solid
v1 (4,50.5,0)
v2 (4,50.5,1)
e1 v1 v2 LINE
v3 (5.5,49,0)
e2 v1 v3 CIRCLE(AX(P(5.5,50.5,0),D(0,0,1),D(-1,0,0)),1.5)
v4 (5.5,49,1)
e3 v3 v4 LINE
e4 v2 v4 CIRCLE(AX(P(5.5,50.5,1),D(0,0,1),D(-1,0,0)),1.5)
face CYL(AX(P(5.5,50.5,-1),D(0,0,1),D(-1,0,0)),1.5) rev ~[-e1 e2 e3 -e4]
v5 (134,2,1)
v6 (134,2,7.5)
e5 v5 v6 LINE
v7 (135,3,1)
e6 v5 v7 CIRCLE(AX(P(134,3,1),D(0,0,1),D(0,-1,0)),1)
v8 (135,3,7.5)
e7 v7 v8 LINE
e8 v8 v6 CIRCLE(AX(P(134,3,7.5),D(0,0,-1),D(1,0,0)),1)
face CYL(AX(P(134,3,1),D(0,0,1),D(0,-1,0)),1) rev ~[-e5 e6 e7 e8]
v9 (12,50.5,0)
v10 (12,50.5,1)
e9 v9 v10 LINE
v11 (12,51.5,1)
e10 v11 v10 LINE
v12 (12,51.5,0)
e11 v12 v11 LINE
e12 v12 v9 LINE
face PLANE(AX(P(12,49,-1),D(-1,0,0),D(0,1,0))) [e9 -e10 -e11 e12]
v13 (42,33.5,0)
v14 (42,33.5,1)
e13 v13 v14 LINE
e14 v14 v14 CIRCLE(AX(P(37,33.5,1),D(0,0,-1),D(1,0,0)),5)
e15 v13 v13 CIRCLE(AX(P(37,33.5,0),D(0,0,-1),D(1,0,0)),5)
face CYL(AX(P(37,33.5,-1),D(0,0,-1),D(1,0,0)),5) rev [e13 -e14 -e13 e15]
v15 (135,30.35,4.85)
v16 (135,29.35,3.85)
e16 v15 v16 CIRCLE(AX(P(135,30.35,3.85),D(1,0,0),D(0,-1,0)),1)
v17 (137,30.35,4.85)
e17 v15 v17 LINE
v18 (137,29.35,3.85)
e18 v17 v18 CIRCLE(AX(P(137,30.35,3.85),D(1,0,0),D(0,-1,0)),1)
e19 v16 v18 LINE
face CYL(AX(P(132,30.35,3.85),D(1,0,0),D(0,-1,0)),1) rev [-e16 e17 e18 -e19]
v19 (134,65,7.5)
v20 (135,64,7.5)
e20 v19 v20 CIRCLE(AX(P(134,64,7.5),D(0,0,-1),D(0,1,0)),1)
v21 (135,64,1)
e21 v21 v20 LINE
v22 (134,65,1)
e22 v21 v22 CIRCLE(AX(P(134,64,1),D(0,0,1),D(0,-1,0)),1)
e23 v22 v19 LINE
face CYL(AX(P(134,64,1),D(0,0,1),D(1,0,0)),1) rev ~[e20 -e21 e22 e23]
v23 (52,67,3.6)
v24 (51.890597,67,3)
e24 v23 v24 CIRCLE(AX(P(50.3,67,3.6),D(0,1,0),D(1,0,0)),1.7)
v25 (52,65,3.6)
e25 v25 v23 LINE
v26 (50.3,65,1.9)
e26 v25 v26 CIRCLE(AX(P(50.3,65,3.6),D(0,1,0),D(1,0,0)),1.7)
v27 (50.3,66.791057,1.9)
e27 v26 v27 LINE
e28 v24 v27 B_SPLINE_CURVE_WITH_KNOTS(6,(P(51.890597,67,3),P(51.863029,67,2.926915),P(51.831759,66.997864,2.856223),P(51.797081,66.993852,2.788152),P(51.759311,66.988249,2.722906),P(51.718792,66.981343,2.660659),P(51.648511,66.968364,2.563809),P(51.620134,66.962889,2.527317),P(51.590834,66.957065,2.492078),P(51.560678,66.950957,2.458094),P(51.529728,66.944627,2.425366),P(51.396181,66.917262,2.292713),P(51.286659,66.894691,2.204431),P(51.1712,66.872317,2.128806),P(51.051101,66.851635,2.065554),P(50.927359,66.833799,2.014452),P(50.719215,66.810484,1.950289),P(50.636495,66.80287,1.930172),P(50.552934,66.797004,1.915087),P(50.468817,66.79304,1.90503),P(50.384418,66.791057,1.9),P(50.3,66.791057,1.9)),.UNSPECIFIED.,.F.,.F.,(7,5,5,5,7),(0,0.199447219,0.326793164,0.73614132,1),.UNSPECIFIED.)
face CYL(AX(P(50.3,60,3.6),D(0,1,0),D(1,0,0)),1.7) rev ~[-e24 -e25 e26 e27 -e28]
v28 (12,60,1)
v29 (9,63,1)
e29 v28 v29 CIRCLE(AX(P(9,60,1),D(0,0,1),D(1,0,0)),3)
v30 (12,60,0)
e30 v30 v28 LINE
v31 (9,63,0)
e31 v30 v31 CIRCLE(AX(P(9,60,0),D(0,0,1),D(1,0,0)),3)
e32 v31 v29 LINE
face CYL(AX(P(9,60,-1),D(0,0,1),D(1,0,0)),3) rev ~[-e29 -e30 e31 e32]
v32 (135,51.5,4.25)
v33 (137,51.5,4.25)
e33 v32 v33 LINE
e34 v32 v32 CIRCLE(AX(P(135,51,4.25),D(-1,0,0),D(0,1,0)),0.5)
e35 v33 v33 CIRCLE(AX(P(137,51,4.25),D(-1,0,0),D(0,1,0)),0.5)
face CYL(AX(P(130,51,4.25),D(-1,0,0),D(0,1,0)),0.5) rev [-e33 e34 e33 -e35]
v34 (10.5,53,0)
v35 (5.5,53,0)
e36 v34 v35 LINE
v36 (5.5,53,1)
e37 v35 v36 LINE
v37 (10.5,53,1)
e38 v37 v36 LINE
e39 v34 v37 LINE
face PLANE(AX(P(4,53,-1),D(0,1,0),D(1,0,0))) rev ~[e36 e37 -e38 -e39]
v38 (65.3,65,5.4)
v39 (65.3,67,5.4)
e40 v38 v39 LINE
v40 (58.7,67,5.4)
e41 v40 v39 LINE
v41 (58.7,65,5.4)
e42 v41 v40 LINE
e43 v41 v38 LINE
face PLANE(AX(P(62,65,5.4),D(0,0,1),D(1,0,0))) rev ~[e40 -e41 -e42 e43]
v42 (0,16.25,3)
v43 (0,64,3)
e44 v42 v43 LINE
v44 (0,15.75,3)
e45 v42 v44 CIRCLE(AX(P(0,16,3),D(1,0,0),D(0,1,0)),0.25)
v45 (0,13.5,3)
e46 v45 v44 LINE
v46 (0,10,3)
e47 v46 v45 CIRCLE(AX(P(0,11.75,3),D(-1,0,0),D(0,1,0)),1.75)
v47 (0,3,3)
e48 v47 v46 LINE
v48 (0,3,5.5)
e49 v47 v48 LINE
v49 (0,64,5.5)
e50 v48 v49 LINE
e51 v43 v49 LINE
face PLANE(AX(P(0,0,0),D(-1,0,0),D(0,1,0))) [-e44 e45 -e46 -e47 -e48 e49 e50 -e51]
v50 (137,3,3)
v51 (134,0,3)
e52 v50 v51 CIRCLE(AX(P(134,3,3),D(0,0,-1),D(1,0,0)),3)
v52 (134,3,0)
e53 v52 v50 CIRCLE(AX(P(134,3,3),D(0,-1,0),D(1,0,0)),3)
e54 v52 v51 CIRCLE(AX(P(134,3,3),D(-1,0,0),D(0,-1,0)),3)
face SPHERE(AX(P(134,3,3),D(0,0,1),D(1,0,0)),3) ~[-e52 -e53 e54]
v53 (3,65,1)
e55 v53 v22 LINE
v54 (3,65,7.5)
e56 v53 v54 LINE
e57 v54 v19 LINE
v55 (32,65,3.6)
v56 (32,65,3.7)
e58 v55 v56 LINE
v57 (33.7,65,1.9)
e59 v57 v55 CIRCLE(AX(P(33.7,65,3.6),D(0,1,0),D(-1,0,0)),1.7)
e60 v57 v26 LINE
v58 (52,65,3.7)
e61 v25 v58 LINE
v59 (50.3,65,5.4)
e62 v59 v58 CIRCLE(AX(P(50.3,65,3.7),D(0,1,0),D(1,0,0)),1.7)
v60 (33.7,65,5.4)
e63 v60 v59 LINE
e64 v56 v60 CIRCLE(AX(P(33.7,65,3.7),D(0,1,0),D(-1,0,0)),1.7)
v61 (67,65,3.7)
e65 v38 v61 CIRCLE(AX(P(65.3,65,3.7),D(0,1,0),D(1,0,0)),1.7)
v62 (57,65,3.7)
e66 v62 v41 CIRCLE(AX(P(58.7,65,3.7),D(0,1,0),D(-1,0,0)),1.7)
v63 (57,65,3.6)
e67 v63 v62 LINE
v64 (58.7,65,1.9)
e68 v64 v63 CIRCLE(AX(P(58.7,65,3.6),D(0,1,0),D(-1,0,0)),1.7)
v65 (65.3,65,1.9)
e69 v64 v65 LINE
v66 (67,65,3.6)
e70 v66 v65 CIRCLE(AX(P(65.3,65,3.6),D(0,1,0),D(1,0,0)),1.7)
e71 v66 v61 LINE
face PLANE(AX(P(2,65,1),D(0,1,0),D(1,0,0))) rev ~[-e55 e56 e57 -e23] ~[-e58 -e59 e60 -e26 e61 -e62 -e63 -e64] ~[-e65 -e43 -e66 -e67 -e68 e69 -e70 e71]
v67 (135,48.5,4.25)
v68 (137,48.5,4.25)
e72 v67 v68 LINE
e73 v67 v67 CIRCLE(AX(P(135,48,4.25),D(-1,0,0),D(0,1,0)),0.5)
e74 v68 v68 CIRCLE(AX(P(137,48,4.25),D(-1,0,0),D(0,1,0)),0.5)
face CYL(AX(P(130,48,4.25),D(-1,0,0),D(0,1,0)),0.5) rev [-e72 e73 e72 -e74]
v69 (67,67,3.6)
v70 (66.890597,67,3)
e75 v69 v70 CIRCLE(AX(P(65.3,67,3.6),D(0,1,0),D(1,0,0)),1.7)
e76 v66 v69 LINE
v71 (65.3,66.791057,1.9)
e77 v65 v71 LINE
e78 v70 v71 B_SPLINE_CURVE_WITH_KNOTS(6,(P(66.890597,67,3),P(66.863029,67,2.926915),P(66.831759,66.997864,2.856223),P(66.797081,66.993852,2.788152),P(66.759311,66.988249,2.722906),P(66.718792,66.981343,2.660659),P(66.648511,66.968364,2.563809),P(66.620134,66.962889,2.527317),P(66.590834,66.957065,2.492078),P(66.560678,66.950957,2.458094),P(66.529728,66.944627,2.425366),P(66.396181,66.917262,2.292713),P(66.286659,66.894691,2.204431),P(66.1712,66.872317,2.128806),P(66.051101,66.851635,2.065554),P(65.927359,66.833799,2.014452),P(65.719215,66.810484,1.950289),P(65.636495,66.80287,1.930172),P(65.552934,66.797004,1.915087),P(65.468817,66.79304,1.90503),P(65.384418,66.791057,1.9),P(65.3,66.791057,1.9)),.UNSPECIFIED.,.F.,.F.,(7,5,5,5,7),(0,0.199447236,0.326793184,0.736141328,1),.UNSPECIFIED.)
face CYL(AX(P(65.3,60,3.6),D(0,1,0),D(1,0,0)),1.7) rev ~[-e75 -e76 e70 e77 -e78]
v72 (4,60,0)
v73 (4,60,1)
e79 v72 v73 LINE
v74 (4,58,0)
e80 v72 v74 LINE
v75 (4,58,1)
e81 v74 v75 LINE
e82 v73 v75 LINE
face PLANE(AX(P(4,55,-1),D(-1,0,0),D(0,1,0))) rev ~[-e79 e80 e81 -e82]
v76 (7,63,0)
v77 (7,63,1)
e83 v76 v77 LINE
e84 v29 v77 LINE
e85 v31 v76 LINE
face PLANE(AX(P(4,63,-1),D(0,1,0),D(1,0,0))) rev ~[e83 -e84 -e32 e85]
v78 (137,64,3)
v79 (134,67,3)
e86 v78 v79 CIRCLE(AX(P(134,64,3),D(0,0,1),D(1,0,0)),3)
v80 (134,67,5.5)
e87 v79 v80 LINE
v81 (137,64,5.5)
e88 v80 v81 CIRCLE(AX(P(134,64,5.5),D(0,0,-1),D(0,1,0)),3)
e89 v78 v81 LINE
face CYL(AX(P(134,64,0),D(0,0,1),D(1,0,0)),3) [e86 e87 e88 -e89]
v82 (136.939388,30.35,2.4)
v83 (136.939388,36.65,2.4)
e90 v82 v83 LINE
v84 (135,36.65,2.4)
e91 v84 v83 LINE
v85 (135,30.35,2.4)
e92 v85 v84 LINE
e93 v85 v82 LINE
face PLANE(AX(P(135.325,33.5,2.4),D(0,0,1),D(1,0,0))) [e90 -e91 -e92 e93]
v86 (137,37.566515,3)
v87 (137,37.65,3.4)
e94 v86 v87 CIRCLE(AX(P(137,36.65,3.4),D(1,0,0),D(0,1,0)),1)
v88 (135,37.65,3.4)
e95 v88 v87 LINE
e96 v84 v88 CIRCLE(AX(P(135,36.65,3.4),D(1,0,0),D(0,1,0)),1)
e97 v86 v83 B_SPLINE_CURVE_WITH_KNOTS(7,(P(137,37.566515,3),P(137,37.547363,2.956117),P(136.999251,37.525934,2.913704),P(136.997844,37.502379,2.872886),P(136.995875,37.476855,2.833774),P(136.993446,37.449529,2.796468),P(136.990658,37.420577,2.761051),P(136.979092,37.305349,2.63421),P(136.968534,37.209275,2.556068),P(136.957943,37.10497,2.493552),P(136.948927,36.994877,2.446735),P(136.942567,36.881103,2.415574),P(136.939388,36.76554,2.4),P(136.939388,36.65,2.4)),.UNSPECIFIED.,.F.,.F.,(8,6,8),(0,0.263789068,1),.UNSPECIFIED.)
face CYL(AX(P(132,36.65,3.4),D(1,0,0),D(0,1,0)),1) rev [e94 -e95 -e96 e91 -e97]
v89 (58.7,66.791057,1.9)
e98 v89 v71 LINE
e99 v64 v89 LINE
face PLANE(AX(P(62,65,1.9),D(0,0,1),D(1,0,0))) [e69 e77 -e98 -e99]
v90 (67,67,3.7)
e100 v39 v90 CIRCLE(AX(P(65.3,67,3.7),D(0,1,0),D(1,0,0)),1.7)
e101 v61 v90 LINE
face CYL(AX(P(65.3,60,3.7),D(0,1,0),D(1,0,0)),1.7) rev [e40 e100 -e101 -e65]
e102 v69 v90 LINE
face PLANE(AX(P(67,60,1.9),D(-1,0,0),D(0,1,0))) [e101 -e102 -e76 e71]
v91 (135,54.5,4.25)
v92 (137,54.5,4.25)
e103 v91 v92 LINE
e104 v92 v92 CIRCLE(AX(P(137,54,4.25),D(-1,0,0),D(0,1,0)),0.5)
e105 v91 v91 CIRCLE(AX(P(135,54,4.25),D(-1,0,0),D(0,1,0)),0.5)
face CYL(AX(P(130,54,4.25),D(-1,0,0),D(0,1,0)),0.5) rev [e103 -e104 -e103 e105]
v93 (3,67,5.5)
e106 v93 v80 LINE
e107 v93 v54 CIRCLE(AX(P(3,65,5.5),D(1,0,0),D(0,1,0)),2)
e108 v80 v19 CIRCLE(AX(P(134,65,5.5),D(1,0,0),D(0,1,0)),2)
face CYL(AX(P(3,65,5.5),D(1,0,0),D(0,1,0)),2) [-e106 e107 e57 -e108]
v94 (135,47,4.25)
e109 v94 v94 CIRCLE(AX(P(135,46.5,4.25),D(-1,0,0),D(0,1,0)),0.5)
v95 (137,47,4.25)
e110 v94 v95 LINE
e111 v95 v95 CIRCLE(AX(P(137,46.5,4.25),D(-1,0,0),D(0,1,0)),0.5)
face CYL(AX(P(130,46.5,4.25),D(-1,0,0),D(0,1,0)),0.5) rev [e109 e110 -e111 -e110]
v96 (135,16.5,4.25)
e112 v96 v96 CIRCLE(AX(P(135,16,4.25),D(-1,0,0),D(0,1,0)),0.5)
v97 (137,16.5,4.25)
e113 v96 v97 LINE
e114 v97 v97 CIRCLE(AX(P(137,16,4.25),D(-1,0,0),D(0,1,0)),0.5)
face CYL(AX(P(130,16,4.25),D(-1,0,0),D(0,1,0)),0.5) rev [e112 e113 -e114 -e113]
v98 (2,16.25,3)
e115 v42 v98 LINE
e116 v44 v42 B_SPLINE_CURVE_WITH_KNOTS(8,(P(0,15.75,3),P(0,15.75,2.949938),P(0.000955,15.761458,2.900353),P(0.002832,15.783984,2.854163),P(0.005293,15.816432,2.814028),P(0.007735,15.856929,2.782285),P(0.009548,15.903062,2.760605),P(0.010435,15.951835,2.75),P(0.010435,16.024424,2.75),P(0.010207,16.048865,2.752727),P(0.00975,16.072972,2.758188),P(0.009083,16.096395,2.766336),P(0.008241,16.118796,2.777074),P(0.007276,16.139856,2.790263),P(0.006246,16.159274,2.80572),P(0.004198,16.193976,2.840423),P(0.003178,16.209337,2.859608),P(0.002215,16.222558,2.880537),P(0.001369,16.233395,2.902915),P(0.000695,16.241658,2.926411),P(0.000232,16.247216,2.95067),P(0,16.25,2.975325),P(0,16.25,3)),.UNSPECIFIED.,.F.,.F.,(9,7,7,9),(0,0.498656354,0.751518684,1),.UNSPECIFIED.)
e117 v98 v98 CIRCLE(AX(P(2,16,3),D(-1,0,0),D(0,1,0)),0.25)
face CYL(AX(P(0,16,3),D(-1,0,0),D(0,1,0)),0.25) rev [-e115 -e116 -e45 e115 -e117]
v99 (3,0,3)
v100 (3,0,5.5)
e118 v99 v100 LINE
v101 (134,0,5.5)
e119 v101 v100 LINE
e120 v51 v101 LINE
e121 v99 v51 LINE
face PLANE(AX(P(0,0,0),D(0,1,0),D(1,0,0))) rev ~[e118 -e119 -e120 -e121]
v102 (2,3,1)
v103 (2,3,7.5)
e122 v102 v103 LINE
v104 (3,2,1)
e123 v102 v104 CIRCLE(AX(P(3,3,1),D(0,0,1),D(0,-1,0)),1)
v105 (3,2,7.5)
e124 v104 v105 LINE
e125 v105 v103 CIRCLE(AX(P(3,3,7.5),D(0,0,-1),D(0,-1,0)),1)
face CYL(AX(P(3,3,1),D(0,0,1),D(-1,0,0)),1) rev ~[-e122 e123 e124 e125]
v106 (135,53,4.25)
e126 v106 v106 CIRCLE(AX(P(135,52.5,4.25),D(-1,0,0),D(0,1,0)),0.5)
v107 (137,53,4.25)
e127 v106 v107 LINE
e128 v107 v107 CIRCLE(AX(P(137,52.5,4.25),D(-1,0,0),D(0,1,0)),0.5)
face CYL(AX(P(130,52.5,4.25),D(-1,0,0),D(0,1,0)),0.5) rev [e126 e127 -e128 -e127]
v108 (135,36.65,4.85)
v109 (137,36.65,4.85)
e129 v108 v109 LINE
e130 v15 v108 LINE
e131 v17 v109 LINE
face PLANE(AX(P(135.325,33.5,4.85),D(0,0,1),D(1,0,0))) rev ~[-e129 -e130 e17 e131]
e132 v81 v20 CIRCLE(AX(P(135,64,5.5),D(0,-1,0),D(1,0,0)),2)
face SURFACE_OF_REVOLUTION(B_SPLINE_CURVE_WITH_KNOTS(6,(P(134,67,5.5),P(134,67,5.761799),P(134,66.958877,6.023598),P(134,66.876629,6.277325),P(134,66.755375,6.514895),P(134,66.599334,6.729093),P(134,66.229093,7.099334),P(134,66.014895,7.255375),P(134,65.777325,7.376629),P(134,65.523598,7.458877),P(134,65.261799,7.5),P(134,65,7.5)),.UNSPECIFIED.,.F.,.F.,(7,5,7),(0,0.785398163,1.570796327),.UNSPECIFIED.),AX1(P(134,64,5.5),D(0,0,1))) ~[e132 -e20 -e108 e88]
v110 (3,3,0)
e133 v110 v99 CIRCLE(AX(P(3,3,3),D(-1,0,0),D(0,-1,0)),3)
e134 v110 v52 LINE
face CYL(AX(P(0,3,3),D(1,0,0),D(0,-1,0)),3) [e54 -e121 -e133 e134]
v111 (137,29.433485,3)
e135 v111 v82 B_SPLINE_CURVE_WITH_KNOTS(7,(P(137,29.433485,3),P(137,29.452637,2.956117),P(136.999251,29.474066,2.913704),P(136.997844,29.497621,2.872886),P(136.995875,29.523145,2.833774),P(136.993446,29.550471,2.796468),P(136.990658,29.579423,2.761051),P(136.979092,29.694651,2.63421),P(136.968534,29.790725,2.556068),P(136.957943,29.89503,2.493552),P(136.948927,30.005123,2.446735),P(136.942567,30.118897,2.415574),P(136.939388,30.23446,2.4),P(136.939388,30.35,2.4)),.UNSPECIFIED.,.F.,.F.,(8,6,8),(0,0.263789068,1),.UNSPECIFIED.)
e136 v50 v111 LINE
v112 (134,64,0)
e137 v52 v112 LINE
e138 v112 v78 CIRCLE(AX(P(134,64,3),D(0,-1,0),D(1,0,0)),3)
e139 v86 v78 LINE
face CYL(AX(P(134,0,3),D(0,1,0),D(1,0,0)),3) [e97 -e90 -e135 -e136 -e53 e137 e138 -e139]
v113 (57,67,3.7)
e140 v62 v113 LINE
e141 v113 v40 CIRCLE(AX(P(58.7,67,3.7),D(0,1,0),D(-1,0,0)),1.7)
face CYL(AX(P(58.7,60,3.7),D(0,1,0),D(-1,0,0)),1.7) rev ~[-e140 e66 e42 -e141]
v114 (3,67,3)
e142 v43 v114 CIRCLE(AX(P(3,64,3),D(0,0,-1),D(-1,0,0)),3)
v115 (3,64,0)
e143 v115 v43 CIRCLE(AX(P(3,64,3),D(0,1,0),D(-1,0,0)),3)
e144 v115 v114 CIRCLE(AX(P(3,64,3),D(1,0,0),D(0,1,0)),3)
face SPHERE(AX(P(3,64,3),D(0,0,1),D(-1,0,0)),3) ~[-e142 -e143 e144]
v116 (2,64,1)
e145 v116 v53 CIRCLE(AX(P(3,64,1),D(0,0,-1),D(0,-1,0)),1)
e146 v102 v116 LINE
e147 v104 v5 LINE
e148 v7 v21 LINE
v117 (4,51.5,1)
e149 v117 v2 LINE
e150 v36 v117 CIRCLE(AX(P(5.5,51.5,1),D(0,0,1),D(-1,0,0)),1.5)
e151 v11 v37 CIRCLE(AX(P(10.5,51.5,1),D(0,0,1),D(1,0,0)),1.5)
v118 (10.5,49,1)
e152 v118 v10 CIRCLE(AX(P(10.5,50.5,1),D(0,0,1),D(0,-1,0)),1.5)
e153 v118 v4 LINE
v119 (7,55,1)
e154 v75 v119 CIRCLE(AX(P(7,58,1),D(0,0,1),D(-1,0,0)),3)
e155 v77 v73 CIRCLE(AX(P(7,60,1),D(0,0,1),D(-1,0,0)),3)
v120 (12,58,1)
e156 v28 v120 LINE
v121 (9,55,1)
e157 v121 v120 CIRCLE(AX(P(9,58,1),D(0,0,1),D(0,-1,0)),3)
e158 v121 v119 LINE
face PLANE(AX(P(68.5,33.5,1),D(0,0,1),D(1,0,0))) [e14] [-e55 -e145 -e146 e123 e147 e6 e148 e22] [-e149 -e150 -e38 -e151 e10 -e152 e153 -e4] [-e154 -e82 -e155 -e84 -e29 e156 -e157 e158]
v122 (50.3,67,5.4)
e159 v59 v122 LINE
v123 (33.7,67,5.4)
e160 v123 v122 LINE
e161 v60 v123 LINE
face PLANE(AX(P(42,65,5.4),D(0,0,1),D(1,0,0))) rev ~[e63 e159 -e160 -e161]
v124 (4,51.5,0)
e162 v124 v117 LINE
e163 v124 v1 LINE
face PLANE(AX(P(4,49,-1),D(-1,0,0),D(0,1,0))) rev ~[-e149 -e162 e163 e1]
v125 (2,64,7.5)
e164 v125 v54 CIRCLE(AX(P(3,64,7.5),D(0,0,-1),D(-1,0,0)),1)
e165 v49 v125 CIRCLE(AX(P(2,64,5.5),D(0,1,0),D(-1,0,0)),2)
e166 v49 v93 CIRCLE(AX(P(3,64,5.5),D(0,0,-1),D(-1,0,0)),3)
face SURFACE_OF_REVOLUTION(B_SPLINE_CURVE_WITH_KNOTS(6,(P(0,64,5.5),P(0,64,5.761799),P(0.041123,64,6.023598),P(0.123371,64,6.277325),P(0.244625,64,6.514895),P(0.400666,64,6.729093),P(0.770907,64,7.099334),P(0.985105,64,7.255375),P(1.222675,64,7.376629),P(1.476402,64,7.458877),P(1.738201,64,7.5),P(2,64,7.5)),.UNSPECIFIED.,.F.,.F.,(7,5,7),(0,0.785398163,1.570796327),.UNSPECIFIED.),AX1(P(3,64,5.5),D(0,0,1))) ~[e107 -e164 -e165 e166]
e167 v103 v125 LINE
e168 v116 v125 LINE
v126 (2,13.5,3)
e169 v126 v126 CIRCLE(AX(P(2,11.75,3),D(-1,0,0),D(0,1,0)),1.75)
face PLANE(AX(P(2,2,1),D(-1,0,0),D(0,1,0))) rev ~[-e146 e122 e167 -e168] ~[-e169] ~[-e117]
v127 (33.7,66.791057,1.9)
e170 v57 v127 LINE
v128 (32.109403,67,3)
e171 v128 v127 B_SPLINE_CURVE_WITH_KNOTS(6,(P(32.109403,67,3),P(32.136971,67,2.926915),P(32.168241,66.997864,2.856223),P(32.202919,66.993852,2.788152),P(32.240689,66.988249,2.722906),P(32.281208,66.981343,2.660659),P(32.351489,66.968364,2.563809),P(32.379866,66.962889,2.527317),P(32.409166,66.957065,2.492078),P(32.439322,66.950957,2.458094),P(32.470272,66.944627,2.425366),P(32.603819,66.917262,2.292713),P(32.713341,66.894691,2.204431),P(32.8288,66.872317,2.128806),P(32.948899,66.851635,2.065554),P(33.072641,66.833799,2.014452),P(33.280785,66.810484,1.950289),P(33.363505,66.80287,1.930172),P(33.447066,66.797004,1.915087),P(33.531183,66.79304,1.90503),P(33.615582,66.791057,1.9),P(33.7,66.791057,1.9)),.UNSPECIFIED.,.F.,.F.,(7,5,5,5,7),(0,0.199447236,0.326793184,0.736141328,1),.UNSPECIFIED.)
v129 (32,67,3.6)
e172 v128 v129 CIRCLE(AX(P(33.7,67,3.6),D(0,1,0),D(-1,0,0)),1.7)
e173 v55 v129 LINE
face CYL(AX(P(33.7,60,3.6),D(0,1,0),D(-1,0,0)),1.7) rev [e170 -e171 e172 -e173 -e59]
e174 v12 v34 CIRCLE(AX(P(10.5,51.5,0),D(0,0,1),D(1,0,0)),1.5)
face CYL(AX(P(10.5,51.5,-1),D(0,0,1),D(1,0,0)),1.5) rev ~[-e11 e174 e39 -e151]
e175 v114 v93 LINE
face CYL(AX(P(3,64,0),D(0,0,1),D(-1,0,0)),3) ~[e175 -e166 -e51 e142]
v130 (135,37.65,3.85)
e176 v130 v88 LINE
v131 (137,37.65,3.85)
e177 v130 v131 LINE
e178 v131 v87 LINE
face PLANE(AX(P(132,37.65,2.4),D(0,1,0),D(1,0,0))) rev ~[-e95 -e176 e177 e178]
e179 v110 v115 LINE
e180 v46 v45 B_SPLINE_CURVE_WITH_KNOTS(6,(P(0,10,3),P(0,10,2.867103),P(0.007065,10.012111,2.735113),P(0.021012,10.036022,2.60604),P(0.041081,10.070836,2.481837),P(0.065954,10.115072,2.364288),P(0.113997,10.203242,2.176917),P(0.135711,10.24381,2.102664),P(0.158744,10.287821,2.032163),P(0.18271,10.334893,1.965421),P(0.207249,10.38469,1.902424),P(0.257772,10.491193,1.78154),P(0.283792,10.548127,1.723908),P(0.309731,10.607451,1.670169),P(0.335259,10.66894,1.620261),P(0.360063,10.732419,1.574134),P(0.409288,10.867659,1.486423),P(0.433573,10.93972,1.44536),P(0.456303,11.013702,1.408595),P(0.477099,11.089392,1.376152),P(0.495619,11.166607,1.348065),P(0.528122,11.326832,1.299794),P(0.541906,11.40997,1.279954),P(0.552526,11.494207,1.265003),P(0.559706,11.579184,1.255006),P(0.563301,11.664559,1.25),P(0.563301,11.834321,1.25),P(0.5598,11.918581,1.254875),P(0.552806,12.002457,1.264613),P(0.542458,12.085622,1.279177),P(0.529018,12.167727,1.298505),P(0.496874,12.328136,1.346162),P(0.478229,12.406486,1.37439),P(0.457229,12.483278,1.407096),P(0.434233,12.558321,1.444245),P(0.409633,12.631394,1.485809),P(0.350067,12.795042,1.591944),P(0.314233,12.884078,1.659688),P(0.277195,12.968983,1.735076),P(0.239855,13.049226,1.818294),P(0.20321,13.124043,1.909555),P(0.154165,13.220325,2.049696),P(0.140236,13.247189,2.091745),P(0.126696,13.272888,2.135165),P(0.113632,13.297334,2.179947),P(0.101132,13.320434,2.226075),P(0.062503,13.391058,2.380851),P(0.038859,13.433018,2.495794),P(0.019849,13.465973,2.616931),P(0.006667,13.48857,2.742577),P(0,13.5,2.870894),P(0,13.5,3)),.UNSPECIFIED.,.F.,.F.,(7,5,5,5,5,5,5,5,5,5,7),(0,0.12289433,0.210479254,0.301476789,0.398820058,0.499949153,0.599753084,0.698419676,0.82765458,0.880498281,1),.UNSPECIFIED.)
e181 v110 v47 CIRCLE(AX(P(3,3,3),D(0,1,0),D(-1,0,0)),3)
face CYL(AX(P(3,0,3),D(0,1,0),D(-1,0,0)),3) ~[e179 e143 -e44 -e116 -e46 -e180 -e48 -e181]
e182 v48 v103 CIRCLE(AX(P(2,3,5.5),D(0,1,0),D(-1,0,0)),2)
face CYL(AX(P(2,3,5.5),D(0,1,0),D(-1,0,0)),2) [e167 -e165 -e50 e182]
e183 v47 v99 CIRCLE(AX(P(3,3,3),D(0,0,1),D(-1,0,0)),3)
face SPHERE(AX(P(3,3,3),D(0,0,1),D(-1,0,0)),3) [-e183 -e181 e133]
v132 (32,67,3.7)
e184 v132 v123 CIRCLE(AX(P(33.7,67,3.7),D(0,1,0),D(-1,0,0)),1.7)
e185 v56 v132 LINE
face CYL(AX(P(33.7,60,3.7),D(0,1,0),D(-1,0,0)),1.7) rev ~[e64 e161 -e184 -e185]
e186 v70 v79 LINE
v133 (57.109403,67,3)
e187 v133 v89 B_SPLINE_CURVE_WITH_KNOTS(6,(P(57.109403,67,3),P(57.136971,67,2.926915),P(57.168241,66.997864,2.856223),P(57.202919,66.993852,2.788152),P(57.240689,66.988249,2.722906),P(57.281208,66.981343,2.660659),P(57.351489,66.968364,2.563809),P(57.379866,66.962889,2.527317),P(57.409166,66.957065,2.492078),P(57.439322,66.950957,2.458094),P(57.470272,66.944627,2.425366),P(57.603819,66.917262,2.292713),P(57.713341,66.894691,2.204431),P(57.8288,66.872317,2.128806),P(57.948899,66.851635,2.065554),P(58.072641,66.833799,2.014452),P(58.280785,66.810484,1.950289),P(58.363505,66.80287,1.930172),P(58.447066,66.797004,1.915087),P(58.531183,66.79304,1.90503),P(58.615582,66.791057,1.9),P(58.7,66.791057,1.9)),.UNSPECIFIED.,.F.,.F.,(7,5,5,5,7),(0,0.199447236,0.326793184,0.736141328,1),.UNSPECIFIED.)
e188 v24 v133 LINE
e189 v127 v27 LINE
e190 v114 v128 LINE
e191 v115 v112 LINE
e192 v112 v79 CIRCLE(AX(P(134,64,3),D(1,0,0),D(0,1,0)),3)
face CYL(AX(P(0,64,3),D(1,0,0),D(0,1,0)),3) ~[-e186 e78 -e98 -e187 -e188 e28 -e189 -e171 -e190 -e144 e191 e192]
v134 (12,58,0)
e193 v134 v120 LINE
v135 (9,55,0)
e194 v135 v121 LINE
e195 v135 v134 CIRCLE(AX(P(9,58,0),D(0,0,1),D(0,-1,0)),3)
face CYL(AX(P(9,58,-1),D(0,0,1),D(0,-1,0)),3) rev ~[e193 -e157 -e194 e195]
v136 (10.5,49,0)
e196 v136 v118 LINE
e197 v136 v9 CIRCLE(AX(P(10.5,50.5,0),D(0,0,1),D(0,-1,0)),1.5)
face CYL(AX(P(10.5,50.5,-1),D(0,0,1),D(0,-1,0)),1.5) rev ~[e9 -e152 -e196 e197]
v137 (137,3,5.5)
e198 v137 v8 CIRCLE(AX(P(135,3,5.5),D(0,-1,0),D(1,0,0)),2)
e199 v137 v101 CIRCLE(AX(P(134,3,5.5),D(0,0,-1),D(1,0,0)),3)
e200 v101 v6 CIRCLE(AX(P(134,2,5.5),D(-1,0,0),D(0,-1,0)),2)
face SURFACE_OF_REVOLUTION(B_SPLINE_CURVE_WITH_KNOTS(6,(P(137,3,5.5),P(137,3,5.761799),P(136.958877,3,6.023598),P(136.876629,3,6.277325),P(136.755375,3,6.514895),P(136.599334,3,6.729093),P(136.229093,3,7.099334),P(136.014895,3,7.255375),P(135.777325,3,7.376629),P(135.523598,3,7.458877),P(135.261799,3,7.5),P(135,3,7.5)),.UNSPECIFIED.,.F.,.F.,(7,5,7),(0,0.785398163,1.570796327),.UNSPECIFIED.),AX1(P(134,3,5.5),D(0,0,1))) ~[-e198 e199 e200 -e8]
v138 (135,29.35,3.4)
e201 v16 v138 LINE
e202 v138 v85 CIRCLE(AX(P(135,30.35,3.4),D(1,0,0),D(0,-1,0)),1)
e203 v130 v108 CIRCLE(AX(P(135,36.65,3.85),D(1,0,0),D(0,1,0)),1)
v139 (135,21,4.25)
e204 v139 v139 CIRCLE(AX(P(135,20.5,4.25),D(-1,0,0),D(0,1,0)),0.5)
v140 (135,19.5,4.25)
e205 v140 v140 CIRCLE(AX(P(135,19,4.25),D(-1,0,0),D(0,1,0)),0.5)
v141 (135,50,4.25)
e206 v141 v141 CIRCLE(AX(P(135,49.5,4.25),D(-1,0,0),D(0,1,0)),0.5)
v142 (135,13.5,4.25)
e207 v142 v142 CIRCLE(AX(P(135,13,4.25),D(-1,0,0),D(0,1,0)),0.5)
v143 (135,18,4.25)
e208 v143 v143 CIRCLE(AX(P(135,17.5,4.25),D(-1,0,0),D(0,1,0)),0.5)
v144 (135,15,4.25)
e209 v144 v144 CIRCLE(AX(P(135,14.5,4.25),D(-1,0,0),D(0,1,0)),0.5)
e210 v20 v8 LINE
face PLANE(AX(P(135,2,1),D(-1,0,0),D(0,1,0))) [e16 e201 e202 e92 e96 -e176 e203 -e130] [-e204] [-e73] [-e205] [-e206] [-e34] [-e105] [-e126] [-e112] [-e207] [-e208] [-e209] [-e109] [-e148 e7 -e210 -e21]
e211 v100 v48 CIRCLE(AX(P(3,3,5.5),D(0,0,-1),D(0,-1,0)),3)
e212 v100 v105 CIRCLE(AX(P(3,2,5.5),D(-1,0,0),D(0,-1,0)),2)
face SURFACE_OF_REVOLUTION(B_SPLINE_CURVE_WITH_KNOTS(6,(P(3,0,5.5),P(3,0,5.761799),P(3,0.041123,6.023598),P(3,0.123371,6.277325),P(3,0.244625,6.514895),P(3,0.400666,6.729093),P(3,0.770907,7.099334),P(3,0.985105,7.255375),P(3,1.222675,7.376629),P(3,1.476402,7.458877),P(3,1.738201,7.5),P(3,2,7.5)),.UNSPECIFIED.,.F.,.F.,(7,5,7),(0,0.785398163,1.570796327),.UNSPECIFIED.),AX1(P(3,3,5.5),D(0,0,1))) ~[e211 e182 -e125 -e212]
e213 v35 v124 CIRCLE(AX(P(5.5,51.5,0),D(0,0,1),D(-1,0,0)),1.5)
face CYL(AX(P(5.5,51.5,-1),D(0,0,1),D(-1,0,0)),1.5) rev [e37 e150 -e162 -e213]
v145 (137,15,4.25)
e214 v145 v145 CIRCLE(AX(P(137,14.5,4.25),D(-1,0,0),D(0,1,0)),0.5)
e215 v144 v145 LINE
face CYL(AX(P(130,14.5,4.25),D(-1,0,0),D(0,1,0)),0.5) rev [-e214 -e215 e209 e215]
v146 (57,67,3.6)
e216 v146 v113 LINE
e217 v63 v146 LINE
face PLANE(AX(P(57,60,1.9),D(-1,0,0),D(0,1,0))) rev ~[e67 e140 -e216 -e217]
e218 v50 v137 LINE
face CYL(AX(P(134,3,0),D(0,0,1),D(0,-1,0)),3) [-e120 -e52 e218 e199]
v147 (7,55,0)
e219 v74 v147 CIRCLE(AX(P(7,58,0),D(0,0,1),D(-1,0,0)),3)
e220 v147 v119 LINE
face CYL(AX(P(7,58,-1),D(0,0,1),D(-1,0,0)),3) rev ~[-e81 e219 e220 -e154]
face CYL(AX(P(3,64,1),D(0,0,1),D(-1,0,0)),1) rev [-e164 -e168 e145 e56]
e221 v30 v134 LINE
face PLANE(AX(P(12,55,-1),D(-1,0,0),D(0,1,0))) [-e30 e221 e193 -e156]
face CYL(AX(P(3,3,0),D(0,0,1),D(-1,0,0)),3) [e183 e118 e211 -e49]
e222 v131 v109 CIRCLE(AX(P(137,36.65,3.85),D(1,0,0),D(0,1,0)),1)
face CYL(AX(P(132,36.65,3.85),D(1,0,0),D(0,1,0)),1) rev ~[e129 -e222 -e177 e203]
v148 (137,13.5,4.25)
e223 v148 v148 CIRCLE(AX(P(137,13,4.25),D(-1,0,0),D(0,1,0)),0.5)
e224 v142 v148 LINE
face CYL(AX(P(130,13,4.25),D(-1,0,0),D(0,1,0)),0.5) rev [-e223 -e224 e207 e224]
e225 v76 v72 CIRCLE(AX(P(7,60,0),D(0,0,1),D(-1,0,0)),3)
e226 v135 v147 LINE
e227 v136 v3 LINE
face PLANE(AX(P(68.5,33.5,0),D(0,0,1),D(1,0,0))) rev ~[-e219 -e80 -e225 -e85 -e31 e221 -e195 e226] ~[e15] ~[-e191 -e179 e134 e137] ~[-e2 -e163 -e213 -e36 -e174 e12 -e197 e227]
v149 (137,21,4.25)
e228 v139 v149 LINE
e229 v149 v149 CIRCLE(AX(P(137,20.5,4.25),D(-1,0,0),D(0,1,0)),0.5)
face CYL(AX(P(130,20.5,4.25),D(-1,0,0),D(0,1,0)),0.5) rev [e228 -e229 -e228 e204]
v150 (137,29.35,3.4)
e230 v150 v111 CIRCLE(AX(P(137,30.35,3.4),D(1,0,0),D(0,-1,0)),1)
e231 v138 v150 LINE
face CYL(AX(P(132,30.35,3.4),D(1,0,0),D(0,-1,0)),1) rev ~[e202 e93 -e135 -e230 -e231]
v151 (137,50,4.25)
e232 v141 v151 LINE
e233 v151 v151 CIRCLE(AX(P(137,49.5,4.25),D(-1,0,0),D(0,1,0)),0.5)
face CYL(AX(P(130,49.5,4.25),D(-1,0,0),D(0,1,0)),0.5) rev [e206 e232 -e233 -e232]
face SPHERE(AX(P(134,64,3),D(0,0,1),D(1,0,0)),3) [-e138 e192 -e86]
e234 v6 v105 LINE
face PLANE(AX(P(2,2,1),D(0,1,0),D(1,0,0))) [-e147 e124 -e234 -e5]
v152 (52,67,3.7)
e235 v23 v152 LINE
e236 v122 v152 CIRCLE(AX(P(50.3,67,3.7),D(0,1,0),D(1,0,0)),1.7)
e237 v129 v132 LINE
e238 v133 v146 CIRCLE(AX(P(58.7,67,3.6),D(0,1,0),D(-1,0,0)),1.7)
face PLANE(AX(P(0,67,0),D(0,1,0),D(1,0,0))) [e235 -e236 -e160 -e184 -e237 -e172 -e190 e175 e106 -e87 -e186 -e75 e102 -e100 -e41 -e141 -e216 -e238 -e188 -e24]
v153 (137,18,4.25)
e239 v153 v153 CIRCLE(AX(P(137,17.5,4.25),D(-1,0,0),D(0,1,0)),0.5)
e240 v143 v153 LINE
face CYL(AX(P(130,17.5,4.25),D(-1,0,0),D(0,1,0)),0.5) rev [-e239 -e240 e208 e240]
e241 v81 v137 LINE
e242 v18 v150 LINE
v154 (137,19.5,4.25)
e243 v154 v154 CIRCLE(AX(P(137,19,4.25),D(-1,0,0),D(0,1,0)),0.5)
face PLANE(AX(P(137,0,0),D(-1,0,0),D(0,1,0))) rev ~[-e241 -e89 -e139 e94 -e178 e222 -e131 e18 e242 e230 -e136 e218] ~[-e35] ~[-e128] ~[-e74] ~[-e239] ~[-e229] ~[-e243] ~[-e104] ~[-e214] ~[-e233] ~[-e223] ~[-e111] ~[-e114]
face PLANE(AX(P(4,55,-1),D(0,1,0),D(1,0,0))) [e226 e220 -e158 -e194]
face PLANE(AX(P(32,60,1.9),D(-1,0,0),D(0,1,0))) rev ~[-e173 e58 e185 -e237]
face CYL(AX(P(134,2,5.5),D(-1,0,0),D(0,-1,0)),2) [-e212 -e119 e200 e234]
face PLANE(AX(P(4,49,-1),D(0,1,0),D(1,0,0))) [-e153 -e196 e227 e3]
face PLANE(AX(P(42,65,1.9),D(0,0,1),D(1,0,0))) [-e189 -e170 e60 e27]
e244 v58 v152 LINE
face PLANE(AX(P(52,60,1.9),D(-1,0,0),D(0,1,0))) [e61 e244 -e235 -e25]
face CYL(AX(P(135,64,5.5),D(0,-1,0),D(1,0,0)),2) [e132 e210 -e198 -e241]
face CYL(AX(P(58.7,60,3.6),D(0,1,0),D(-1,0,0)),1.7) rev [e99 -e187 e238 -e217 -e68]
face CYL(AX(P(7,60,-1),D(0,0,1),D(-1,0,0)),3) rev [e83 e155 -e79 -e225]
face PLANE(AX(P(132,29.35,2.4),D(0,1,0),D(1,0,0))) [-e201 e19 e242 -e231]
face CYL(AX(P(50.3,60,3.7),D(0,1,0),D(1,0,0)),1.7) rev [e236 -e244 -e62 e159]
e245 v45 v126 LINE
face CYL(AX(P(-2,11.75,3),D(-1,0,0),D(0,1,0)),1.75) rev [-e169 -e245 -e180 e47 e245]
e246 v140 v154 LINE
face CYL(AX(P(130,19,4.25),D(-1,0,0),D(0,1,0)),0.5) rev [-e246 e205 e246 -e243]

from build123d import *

# Parameters (mm, degrees)
BOX028_W          = 10
BOX028_H          = 10
BOX028_DEPTH      = 3.5
FILLET018_R       = 1.7
BOX029_W          = 20
BOX029_H          = 10
BOX029_DEPTH      = 3.5
FILLET019_R       = 1.7
CYLINDER029_R     = 5
CYLINDER029_DEPTH = 10
CYLINDER027_R     = 0.25
CYLINDER027_DEPTH = 10
CYLINDER026_R     = 1.75
CYLINDER026_DEPTH = 10
BOX023_W          = 6.65
BOX023_H          = 8.3
BOX023_DEPTH      = 2.45
FILLET014_R       = 1
CYLINDER022_R     = 0.5
CYLINDER022_DEPTH = 10
CYLINDER023_R     = 0.5
CYLINDER023_DEPTH = 10
CYLINDER024_R     = 0.5
CYLINDER024_DEPTH = 10
CYLINDER021_R     = 0.5
CYLINDER021_DEPTH = 10
CYLINDER020_R     = 0.5
CYLINDER020_DEPTH = 10
CYLINDER019_R     = 0.5
CYLINDER019_DEPTH = 10
CYLINDER018_R     = 0.5
CYLINDER018_DEPTH = 10
CYLINDER017_R     = 0.5
CYLINDER017_DEPTH = 10
CYLINDER016_R     = 0.5
CYLINDER016_DEPTH = 10
CYLINDER015_R     = 0.5
CYLINDER015_DEPTH = 10
CYLINDER014_R     = 0.5
CYLINDER014_DEPTH = 10
CYLINDER013_R     = 0.5
CYLINDER013_DEPTH = 10
BOX021_W          = 8
BOX021_H          = 4
BOX021_DEPTH      = 10
FILLET012_R       = 1.5
BOX019_W          = 8
BOX019_H          = 8
BOX019_DEPTH      = 10
FILLET010_R       = 3
BOX001_W          = 133
BOX001_H          = 63
BOX001_DEPTH      = 10
FILLET002_R       = 1
BOX_W             = 137
BOX_H             = 67
BOX_DEPTH         = 7.5
FILLET_R          = 3
FILLET001_R       = 2


with BuildPart() as fillet018:
    # Box028 → Box028 (new body)
    with BuildSketch(Plane(origin=(57, 60, 2.5), x_dir=(1, 0, 0), z_dir=(0, 0, 1))):
        with Locations((5, 5)):
            Rectangle(BOX028_W, BOX028_H)
    extrude(amount=BOX028_DEPTH)

    # Fillet018
    fillet018_edges = [fillet018.edges().sort_by_distance(p)[0] for p in [
        (57, 65, 6),
        (57, 65, 2.5),
        (67, 65, 6),
        (67, 65, 2.5),
    ]]
    fillet(fillet018_edges, radius=FILLET018_R)


with BuildPart() as fillet018_1:
    # Fillet018 placement: moved
    add(fillet018.part.moved(Location((0, 0, -0.6))))


with BuildPart() as fillet019:
    # Box029 → Box029 (new body)
    with BuildSketch(Plane(origin=(57, 60, 2.5), x_dir=(1, 0, 0), z_dir=(0, 0, 1))):
        with Locations((10, 5)):
            Rectangle(BOX029_W, BOX029_H)
    extrude(amount=BOX029_DEPTH)

    # Fillet019
    fillet019_edges = [fillet019.edges().sort_by_distance(p)[0] for p in [
        (57, 65, 6),
        (57, 65, 2.5),
        (77, 65, 6),
        (77, 65, 2.5),
    ]]
    fillet(fillet019_edges, radius=FILLET019_R)


with BuildPart() as fillet019_1:
    # Fillet019 placement: moved
    add(fillet019.part.moved(Location((-25, 0, -0.6))))


with BuildPart() as cilindro027:
    # Cylinder029 → Cylinder029 (new body)
    with BuildSketch(Plane(origin=(37, 33.5, -1), x_dir=(1, 0, 0), z_dir=(0, 0, 1))):
        Circle(CYLINDER029_R)
    extrude(amount=CYLINDER029_DEPTH)


with BuildPart() as cilindro025:
    # Cylinder027 → Cylinder027 (new body)
    with BuildSketch(Plane(origin=(0, 16, 3), x_dir=(0, 1, 0), z_dir=(1, 0, 0))):
        Circle(CYLINDER027_R)
    extrude(amount=CYLINDER027_DEPTH)


with BuildPart() as phones:
    # Cylinder026 → Cylinder026 (new body)
    with BuildSketch(Plane(origin=(-2, 11.75, 3), x_dir=(0, 1, 0), z_dir=(1, 0, 0))):
        Circle(CYLINDER026_R)
    extrude(amount=CYLINDER026_DEPTH)


with BuildPart() as usb_c:
    # Box023 → Box023 (new body)
    with BuildSketch(Plane.XY):
        with Locations((3.325, 4.15)):
            Rectangle(BOX023_W, BOX023_H)
    extrude(amount=BOX023_DEPTH)

    # Fillet014
    fillet014_edges = [usb_c.edges().sort_by_distance(p)[0] for p in [
        (3.325, 0, 0),
        (3.325, 0, 2.45),
        (3.325, 8.3, 0),
        (3.325, 8.3, 2.45),
    ]]
    fillet(fillet014_edges, radius=FILLET014_R)


with BuildPart() as usb_c_1:
    # Fillet014 placement: moved
    add(usb_c.part.moved(Location((132, 29.35, 2.4))))


with BuildPart() as cilindro022:
    # Cylinder022 → Cylinder022 (new body)
    with BuildSketch(Plane(origin=(130, 52.5, 4.25), x_dir=(0, 1, 0), z_dir=(1, 0, 0))):
        Circle(CYLINDER022_R)
    extrude(amount=CYLINDER022_DEPTH)


with BuildPart() as cilindro023:
    # Cylinder023 → Cylinder023 (new body)
    with BuildSketch(Plane(origin=(130, 51, 4.25), x_dir=(0, 1, 0), z_dir=(1, 0, 0))):
        Circle(CYLINDER023_R)
    extrude(amount=CYLINDER023_DEPTH)


with BuildPart() as fusion008:
    # Cylinder024 → Cylinder024 (new body)
    with BuildSketch(Plane(origin=(130, 54, 4.25), x_dir=(0, 1, 0), z_dir=(1, 0, 0))):
        Circle(CYLINDER024_R)
    extrude(amount=CYLINDER024_DEPTH)

    # Fusion009: union Cilindro022, Cilindro023
    add(cilindro022.part)
    add(cilindro023.part)


with BuildPart() as fusion008_1:
    # Fusion009 placement: moved
    add(fusion008.part.moved(Location((0, -33.5, 0))))


with BuildPart() as cilindro021:
    # Cylinder021 → Cylinder021 (new body)
    with BuildSketch(Plane(origin=(130, 52.5, 4.25), x_dir=(0, 1, 0), z_dir=(1, 0, 0))):
        Circle(CYLINDER021_R)
    extrude(amount=CYLINDER021_DEPTH)


with BuildPart() as cilindro020:
    # Cylinder020 → Cylinder020 (new body)
    with BuildSketch(Plane(origin=(130, 51, 4.25), x_dir=(0, 1, 0), z_dir=(1, 0, 0))):
        Circle(CYLINDER020_R)
    extrude(amount=CYLINDER020_DEPTH)


with BuildPart() as agujero_micro:
    # Cylinder019 → Cylinder019 (new body)
    with BuildSketch(Plane(origin=(130, 54, 4.25), x_dir=(0, 1, 0), z_dir=(1, 0, 0))):
        Circle(CYLINDER019_R)
    extrude(amount=CYLINDER019_DEPTH)

    # Fusion008: union Cilindro021, Cilindro020
    add(cilindro021.part)
    add(cilindro020.part)


with BuildPart() as agujero_micro_1:
    # Fusion008 placement: moved
    add(agujero_micro.part.moved(Location((0, -38, 0))))

    # Fusion010: union Fusion008
    add(fusion008_1.part)


with BuildPart() as cilindro018:
    # Cylinder018 → Cylinder018 (new body)
    with BuildSketch(Plane(origin=(130, 52.5, 4.25), x_dir=(0, 1, 0), z_dir=(1, 0, 0))):
        Circle(CYLINDER018_R)
    extrude(amount=CYLINDER018_DEPTH)


with BuildPart() as cilindro017:
    # Cylinder017 → Cylinder017 (new body)
    with BuildSketch(Plane(origin=(130, 51, 4.25), x_dir=(0, 1, 0), z_dir=(1, 0, 0))):
        Circle(CYLINDER017_R)
    extrude(amount=CYLINDER017_DEPTH)


with BuildPart() as fusion006:
    # Cylinder016 → Cylinder016 (new body)
    with BuildSketch(Plane(origin=(130, 54, 4.25), x_dir=(0, 1, 0), z_dir=(1, 0, 0))):
        Circle(CYLINDER016_R)
    extrude(amount=CYLINDER016_DEPTH)

    # Fusion006: union Cilindro018, Cilindro017
    add(cilindro018.part)
    add(cilindro017.part)


with BuildPart() as fusion006_1:
    # Fusion006 placement: moved
    add(fusion006.part.moved(Location((0, -4.5, 0))))


with BuildPart() as cilindro015:
    # Cylinder015 → Cylinder015 (new body)
    with BuildSketch(Plane(origin=(130, 52.5, 4.25), x_dir=(0, 1, 0), z_dir=(1, 0, 0))):
        Circle(CYLINDER015_R)
    extrude(amount=CYLINDER015_DEPTH)


with BuildPart() as cilindro014:
    # Cylinder014 → Cylinder014 (new body)
    with BuildSketch(Plane(origin=(130, 51, 4.25), x_dir=(0, 1, 0), z_dir=(1, 0, 0))):
        Circle(CYLINDER014_R)
    extrude(amount=CYLINDER014_DEPTH)


with BuildPart() as agujero_altavoz:
    # Cylinder013 → Cylinder013 (new body)
    with BuildSketch(Plane(origin=(130, 54, 4.25), x_dir=(0, 1, 0), z_dir=(1, 0, 0))):
        Circle(CYLINDER013_R)
    extrude(amount=CYLINDER013_DEPTH)

    # Fusion005: union Cilindro015, Cilindro014
    add(cilindro015.part)
    add(cilindro014.part)

    # Fusion007: union Fusion006
    add(fusion006_1.part)


with BuildPart() as fillet012:
    # Box021 → Box021 (new body)
    with BuildSketch(Plane(origin=(4, 55, -1), x_dir=(1, 0, 0), z_dir=(0, 0, 1))):
        with Locations((4, 2)):
            Rectangle(BOX021_W, BOX021_H)
    extrude(amount=BOX021_DEPTH)

    # Fillet012
    fillet012_edges = [fillet012.edges().sort_by_distance(p)[0] for p in [
        (4, 55, 4),
        (4, 59, 4),
        (12, 55, 4),
        (12, 59, 4),
    ]]
    fillet(fillet012_edges, radius=FILLET012_R)


with BuildPart() as fillet012_1:
    # Fillet012 placement: moved
    add(fillet012.part.moved(Location((0, -6, 0))))


with BuildPart() as fillet010:
    # Box019 → Box019 (new body)
    with BuildSketch(Plane(origin=(4, 55, -1), x_dir=(1, 0, 0), z_dir=(0, 0, 1))):
        with Locations((4, 4)):
            Rectangle(BOX019_W, BOX019_H)
    extrude(amount=BOX019_DEPTH)

    # Fillet010
    fillet010_edges = [fillet010.edges().sort_by_distance(p)[0] for p in [
        (4, 55, 4),
        (4, 63, 4),
        (12, 55, 4),
        (12, 63, 4),
    ]]
    fillet(fillet010_edges, radius=FILLET010_R)


with BuildPart() as fillet002:
    # Box001 → Box001 (new body)
    with BuildSketch(Plane(origin=(2, 2, 5.5), x_dir=(1, 0, 0), z_dir=(0, 0, 1))):
        with Locations((66.5, 31.5)):
            Rectangle(BOX001_W, BOX001_H)
    extrude(amount=BOX001_DEPTH)

    # Fillet002
    fillet002_edges = [fillet002.edges().sort_by_distance(p)[0] for p in [
        (2, 2, 10.5),
        (2, 65, 10.5),
        (135, 2, 10.5),
        (135, 65, 10.5),
    ]]
    fillet(fillet002_edges, radius=FILLET002_R)


with BuildPart() as fillet002_1:
    # Fillet002 placement: moved
    add(fillet002.part.moved(Location((0, 0, -4.5))))


with BuildPart() as cut037:
    # Box → Box (new body)
    with BuildSketch(Plane.XY):
        with Locations((68.5, 33.5)):
            Rectangle(BOX_W, BOX_H)
    extrude(amount=BOX_DEPTH)

    # Fillet
    fillet_edges = [cut037.edges().sort_by_distance(p)[0] for p in [
        (0, 0, 3.75),
        (0, 67, 3.75),
        (0, 33.5, 0),
        (137, 0, 3.75),
        (137, 67, 3.75),
        (137, 33.5, 0),
        (68.5, 0, 0),
        (68.5, 67, 0),
    ]]
    fillet(fillet_edges, radius=FILLET_R)

    # Fillet001
    fillet001_edges = [cut037.edges().sort_by_distance(p)[0] for p in [
        (0, 33.5, 7.5),
        (0.87868, 0.87868, 7.5),
        (68.5, 0, 7.5),
        (68.5, 67, 7.5),
        (136.12132, 0.87868, 7.5),
        (136.12132, 66.12132, 7.5),
        (137, 33.5, 7.5),
    ]]
    fillet(fillet001_edges, radius=FILLET001_R)

    # Cut: cut Fillet002
    add(fillet002_1.part, mode=Mode.SUBTRACT)

    # Cut024: cut Fillet010
    add(fillet010.part, mode=Mode.SUBTRACT)

    # Cut025: cut Fillet012
    add(fillet012_1.part, mode=Mode.SUBTRACT)

    # Cut026: cut Agujero altavoz
    add(agujero_altavoz.part, mode=Mode.SUBTRACT)

    # Cut027: cut Agujero Micro
    add(agujero_micro_1.part, mode=Mode.SUBTRACT)

    # Cut028: cut USB-C
    add(usb_c_1.part, mode=Mode.SUBTRACT)

    # Cut029: cut phones
    add(phones.part, mode=Mode.SUBTRACT)

    # Cut031: cut Cilindro025
    add(cilindro025.part, mode=Mode.SUBTRACT)

    # Cut034: cut Cilindro027
    add(cilindro027.part, mode=Mode.SUBTRACT)

    # Cut036: cut Fillet019
    add(fillet019_1.part, mode=Mode.SUBTRACT)

    # Cut037: cut Fillet018
    add(fillet018_1.part, mode=Mode.SUBTRACT)


solid = cut037.part
